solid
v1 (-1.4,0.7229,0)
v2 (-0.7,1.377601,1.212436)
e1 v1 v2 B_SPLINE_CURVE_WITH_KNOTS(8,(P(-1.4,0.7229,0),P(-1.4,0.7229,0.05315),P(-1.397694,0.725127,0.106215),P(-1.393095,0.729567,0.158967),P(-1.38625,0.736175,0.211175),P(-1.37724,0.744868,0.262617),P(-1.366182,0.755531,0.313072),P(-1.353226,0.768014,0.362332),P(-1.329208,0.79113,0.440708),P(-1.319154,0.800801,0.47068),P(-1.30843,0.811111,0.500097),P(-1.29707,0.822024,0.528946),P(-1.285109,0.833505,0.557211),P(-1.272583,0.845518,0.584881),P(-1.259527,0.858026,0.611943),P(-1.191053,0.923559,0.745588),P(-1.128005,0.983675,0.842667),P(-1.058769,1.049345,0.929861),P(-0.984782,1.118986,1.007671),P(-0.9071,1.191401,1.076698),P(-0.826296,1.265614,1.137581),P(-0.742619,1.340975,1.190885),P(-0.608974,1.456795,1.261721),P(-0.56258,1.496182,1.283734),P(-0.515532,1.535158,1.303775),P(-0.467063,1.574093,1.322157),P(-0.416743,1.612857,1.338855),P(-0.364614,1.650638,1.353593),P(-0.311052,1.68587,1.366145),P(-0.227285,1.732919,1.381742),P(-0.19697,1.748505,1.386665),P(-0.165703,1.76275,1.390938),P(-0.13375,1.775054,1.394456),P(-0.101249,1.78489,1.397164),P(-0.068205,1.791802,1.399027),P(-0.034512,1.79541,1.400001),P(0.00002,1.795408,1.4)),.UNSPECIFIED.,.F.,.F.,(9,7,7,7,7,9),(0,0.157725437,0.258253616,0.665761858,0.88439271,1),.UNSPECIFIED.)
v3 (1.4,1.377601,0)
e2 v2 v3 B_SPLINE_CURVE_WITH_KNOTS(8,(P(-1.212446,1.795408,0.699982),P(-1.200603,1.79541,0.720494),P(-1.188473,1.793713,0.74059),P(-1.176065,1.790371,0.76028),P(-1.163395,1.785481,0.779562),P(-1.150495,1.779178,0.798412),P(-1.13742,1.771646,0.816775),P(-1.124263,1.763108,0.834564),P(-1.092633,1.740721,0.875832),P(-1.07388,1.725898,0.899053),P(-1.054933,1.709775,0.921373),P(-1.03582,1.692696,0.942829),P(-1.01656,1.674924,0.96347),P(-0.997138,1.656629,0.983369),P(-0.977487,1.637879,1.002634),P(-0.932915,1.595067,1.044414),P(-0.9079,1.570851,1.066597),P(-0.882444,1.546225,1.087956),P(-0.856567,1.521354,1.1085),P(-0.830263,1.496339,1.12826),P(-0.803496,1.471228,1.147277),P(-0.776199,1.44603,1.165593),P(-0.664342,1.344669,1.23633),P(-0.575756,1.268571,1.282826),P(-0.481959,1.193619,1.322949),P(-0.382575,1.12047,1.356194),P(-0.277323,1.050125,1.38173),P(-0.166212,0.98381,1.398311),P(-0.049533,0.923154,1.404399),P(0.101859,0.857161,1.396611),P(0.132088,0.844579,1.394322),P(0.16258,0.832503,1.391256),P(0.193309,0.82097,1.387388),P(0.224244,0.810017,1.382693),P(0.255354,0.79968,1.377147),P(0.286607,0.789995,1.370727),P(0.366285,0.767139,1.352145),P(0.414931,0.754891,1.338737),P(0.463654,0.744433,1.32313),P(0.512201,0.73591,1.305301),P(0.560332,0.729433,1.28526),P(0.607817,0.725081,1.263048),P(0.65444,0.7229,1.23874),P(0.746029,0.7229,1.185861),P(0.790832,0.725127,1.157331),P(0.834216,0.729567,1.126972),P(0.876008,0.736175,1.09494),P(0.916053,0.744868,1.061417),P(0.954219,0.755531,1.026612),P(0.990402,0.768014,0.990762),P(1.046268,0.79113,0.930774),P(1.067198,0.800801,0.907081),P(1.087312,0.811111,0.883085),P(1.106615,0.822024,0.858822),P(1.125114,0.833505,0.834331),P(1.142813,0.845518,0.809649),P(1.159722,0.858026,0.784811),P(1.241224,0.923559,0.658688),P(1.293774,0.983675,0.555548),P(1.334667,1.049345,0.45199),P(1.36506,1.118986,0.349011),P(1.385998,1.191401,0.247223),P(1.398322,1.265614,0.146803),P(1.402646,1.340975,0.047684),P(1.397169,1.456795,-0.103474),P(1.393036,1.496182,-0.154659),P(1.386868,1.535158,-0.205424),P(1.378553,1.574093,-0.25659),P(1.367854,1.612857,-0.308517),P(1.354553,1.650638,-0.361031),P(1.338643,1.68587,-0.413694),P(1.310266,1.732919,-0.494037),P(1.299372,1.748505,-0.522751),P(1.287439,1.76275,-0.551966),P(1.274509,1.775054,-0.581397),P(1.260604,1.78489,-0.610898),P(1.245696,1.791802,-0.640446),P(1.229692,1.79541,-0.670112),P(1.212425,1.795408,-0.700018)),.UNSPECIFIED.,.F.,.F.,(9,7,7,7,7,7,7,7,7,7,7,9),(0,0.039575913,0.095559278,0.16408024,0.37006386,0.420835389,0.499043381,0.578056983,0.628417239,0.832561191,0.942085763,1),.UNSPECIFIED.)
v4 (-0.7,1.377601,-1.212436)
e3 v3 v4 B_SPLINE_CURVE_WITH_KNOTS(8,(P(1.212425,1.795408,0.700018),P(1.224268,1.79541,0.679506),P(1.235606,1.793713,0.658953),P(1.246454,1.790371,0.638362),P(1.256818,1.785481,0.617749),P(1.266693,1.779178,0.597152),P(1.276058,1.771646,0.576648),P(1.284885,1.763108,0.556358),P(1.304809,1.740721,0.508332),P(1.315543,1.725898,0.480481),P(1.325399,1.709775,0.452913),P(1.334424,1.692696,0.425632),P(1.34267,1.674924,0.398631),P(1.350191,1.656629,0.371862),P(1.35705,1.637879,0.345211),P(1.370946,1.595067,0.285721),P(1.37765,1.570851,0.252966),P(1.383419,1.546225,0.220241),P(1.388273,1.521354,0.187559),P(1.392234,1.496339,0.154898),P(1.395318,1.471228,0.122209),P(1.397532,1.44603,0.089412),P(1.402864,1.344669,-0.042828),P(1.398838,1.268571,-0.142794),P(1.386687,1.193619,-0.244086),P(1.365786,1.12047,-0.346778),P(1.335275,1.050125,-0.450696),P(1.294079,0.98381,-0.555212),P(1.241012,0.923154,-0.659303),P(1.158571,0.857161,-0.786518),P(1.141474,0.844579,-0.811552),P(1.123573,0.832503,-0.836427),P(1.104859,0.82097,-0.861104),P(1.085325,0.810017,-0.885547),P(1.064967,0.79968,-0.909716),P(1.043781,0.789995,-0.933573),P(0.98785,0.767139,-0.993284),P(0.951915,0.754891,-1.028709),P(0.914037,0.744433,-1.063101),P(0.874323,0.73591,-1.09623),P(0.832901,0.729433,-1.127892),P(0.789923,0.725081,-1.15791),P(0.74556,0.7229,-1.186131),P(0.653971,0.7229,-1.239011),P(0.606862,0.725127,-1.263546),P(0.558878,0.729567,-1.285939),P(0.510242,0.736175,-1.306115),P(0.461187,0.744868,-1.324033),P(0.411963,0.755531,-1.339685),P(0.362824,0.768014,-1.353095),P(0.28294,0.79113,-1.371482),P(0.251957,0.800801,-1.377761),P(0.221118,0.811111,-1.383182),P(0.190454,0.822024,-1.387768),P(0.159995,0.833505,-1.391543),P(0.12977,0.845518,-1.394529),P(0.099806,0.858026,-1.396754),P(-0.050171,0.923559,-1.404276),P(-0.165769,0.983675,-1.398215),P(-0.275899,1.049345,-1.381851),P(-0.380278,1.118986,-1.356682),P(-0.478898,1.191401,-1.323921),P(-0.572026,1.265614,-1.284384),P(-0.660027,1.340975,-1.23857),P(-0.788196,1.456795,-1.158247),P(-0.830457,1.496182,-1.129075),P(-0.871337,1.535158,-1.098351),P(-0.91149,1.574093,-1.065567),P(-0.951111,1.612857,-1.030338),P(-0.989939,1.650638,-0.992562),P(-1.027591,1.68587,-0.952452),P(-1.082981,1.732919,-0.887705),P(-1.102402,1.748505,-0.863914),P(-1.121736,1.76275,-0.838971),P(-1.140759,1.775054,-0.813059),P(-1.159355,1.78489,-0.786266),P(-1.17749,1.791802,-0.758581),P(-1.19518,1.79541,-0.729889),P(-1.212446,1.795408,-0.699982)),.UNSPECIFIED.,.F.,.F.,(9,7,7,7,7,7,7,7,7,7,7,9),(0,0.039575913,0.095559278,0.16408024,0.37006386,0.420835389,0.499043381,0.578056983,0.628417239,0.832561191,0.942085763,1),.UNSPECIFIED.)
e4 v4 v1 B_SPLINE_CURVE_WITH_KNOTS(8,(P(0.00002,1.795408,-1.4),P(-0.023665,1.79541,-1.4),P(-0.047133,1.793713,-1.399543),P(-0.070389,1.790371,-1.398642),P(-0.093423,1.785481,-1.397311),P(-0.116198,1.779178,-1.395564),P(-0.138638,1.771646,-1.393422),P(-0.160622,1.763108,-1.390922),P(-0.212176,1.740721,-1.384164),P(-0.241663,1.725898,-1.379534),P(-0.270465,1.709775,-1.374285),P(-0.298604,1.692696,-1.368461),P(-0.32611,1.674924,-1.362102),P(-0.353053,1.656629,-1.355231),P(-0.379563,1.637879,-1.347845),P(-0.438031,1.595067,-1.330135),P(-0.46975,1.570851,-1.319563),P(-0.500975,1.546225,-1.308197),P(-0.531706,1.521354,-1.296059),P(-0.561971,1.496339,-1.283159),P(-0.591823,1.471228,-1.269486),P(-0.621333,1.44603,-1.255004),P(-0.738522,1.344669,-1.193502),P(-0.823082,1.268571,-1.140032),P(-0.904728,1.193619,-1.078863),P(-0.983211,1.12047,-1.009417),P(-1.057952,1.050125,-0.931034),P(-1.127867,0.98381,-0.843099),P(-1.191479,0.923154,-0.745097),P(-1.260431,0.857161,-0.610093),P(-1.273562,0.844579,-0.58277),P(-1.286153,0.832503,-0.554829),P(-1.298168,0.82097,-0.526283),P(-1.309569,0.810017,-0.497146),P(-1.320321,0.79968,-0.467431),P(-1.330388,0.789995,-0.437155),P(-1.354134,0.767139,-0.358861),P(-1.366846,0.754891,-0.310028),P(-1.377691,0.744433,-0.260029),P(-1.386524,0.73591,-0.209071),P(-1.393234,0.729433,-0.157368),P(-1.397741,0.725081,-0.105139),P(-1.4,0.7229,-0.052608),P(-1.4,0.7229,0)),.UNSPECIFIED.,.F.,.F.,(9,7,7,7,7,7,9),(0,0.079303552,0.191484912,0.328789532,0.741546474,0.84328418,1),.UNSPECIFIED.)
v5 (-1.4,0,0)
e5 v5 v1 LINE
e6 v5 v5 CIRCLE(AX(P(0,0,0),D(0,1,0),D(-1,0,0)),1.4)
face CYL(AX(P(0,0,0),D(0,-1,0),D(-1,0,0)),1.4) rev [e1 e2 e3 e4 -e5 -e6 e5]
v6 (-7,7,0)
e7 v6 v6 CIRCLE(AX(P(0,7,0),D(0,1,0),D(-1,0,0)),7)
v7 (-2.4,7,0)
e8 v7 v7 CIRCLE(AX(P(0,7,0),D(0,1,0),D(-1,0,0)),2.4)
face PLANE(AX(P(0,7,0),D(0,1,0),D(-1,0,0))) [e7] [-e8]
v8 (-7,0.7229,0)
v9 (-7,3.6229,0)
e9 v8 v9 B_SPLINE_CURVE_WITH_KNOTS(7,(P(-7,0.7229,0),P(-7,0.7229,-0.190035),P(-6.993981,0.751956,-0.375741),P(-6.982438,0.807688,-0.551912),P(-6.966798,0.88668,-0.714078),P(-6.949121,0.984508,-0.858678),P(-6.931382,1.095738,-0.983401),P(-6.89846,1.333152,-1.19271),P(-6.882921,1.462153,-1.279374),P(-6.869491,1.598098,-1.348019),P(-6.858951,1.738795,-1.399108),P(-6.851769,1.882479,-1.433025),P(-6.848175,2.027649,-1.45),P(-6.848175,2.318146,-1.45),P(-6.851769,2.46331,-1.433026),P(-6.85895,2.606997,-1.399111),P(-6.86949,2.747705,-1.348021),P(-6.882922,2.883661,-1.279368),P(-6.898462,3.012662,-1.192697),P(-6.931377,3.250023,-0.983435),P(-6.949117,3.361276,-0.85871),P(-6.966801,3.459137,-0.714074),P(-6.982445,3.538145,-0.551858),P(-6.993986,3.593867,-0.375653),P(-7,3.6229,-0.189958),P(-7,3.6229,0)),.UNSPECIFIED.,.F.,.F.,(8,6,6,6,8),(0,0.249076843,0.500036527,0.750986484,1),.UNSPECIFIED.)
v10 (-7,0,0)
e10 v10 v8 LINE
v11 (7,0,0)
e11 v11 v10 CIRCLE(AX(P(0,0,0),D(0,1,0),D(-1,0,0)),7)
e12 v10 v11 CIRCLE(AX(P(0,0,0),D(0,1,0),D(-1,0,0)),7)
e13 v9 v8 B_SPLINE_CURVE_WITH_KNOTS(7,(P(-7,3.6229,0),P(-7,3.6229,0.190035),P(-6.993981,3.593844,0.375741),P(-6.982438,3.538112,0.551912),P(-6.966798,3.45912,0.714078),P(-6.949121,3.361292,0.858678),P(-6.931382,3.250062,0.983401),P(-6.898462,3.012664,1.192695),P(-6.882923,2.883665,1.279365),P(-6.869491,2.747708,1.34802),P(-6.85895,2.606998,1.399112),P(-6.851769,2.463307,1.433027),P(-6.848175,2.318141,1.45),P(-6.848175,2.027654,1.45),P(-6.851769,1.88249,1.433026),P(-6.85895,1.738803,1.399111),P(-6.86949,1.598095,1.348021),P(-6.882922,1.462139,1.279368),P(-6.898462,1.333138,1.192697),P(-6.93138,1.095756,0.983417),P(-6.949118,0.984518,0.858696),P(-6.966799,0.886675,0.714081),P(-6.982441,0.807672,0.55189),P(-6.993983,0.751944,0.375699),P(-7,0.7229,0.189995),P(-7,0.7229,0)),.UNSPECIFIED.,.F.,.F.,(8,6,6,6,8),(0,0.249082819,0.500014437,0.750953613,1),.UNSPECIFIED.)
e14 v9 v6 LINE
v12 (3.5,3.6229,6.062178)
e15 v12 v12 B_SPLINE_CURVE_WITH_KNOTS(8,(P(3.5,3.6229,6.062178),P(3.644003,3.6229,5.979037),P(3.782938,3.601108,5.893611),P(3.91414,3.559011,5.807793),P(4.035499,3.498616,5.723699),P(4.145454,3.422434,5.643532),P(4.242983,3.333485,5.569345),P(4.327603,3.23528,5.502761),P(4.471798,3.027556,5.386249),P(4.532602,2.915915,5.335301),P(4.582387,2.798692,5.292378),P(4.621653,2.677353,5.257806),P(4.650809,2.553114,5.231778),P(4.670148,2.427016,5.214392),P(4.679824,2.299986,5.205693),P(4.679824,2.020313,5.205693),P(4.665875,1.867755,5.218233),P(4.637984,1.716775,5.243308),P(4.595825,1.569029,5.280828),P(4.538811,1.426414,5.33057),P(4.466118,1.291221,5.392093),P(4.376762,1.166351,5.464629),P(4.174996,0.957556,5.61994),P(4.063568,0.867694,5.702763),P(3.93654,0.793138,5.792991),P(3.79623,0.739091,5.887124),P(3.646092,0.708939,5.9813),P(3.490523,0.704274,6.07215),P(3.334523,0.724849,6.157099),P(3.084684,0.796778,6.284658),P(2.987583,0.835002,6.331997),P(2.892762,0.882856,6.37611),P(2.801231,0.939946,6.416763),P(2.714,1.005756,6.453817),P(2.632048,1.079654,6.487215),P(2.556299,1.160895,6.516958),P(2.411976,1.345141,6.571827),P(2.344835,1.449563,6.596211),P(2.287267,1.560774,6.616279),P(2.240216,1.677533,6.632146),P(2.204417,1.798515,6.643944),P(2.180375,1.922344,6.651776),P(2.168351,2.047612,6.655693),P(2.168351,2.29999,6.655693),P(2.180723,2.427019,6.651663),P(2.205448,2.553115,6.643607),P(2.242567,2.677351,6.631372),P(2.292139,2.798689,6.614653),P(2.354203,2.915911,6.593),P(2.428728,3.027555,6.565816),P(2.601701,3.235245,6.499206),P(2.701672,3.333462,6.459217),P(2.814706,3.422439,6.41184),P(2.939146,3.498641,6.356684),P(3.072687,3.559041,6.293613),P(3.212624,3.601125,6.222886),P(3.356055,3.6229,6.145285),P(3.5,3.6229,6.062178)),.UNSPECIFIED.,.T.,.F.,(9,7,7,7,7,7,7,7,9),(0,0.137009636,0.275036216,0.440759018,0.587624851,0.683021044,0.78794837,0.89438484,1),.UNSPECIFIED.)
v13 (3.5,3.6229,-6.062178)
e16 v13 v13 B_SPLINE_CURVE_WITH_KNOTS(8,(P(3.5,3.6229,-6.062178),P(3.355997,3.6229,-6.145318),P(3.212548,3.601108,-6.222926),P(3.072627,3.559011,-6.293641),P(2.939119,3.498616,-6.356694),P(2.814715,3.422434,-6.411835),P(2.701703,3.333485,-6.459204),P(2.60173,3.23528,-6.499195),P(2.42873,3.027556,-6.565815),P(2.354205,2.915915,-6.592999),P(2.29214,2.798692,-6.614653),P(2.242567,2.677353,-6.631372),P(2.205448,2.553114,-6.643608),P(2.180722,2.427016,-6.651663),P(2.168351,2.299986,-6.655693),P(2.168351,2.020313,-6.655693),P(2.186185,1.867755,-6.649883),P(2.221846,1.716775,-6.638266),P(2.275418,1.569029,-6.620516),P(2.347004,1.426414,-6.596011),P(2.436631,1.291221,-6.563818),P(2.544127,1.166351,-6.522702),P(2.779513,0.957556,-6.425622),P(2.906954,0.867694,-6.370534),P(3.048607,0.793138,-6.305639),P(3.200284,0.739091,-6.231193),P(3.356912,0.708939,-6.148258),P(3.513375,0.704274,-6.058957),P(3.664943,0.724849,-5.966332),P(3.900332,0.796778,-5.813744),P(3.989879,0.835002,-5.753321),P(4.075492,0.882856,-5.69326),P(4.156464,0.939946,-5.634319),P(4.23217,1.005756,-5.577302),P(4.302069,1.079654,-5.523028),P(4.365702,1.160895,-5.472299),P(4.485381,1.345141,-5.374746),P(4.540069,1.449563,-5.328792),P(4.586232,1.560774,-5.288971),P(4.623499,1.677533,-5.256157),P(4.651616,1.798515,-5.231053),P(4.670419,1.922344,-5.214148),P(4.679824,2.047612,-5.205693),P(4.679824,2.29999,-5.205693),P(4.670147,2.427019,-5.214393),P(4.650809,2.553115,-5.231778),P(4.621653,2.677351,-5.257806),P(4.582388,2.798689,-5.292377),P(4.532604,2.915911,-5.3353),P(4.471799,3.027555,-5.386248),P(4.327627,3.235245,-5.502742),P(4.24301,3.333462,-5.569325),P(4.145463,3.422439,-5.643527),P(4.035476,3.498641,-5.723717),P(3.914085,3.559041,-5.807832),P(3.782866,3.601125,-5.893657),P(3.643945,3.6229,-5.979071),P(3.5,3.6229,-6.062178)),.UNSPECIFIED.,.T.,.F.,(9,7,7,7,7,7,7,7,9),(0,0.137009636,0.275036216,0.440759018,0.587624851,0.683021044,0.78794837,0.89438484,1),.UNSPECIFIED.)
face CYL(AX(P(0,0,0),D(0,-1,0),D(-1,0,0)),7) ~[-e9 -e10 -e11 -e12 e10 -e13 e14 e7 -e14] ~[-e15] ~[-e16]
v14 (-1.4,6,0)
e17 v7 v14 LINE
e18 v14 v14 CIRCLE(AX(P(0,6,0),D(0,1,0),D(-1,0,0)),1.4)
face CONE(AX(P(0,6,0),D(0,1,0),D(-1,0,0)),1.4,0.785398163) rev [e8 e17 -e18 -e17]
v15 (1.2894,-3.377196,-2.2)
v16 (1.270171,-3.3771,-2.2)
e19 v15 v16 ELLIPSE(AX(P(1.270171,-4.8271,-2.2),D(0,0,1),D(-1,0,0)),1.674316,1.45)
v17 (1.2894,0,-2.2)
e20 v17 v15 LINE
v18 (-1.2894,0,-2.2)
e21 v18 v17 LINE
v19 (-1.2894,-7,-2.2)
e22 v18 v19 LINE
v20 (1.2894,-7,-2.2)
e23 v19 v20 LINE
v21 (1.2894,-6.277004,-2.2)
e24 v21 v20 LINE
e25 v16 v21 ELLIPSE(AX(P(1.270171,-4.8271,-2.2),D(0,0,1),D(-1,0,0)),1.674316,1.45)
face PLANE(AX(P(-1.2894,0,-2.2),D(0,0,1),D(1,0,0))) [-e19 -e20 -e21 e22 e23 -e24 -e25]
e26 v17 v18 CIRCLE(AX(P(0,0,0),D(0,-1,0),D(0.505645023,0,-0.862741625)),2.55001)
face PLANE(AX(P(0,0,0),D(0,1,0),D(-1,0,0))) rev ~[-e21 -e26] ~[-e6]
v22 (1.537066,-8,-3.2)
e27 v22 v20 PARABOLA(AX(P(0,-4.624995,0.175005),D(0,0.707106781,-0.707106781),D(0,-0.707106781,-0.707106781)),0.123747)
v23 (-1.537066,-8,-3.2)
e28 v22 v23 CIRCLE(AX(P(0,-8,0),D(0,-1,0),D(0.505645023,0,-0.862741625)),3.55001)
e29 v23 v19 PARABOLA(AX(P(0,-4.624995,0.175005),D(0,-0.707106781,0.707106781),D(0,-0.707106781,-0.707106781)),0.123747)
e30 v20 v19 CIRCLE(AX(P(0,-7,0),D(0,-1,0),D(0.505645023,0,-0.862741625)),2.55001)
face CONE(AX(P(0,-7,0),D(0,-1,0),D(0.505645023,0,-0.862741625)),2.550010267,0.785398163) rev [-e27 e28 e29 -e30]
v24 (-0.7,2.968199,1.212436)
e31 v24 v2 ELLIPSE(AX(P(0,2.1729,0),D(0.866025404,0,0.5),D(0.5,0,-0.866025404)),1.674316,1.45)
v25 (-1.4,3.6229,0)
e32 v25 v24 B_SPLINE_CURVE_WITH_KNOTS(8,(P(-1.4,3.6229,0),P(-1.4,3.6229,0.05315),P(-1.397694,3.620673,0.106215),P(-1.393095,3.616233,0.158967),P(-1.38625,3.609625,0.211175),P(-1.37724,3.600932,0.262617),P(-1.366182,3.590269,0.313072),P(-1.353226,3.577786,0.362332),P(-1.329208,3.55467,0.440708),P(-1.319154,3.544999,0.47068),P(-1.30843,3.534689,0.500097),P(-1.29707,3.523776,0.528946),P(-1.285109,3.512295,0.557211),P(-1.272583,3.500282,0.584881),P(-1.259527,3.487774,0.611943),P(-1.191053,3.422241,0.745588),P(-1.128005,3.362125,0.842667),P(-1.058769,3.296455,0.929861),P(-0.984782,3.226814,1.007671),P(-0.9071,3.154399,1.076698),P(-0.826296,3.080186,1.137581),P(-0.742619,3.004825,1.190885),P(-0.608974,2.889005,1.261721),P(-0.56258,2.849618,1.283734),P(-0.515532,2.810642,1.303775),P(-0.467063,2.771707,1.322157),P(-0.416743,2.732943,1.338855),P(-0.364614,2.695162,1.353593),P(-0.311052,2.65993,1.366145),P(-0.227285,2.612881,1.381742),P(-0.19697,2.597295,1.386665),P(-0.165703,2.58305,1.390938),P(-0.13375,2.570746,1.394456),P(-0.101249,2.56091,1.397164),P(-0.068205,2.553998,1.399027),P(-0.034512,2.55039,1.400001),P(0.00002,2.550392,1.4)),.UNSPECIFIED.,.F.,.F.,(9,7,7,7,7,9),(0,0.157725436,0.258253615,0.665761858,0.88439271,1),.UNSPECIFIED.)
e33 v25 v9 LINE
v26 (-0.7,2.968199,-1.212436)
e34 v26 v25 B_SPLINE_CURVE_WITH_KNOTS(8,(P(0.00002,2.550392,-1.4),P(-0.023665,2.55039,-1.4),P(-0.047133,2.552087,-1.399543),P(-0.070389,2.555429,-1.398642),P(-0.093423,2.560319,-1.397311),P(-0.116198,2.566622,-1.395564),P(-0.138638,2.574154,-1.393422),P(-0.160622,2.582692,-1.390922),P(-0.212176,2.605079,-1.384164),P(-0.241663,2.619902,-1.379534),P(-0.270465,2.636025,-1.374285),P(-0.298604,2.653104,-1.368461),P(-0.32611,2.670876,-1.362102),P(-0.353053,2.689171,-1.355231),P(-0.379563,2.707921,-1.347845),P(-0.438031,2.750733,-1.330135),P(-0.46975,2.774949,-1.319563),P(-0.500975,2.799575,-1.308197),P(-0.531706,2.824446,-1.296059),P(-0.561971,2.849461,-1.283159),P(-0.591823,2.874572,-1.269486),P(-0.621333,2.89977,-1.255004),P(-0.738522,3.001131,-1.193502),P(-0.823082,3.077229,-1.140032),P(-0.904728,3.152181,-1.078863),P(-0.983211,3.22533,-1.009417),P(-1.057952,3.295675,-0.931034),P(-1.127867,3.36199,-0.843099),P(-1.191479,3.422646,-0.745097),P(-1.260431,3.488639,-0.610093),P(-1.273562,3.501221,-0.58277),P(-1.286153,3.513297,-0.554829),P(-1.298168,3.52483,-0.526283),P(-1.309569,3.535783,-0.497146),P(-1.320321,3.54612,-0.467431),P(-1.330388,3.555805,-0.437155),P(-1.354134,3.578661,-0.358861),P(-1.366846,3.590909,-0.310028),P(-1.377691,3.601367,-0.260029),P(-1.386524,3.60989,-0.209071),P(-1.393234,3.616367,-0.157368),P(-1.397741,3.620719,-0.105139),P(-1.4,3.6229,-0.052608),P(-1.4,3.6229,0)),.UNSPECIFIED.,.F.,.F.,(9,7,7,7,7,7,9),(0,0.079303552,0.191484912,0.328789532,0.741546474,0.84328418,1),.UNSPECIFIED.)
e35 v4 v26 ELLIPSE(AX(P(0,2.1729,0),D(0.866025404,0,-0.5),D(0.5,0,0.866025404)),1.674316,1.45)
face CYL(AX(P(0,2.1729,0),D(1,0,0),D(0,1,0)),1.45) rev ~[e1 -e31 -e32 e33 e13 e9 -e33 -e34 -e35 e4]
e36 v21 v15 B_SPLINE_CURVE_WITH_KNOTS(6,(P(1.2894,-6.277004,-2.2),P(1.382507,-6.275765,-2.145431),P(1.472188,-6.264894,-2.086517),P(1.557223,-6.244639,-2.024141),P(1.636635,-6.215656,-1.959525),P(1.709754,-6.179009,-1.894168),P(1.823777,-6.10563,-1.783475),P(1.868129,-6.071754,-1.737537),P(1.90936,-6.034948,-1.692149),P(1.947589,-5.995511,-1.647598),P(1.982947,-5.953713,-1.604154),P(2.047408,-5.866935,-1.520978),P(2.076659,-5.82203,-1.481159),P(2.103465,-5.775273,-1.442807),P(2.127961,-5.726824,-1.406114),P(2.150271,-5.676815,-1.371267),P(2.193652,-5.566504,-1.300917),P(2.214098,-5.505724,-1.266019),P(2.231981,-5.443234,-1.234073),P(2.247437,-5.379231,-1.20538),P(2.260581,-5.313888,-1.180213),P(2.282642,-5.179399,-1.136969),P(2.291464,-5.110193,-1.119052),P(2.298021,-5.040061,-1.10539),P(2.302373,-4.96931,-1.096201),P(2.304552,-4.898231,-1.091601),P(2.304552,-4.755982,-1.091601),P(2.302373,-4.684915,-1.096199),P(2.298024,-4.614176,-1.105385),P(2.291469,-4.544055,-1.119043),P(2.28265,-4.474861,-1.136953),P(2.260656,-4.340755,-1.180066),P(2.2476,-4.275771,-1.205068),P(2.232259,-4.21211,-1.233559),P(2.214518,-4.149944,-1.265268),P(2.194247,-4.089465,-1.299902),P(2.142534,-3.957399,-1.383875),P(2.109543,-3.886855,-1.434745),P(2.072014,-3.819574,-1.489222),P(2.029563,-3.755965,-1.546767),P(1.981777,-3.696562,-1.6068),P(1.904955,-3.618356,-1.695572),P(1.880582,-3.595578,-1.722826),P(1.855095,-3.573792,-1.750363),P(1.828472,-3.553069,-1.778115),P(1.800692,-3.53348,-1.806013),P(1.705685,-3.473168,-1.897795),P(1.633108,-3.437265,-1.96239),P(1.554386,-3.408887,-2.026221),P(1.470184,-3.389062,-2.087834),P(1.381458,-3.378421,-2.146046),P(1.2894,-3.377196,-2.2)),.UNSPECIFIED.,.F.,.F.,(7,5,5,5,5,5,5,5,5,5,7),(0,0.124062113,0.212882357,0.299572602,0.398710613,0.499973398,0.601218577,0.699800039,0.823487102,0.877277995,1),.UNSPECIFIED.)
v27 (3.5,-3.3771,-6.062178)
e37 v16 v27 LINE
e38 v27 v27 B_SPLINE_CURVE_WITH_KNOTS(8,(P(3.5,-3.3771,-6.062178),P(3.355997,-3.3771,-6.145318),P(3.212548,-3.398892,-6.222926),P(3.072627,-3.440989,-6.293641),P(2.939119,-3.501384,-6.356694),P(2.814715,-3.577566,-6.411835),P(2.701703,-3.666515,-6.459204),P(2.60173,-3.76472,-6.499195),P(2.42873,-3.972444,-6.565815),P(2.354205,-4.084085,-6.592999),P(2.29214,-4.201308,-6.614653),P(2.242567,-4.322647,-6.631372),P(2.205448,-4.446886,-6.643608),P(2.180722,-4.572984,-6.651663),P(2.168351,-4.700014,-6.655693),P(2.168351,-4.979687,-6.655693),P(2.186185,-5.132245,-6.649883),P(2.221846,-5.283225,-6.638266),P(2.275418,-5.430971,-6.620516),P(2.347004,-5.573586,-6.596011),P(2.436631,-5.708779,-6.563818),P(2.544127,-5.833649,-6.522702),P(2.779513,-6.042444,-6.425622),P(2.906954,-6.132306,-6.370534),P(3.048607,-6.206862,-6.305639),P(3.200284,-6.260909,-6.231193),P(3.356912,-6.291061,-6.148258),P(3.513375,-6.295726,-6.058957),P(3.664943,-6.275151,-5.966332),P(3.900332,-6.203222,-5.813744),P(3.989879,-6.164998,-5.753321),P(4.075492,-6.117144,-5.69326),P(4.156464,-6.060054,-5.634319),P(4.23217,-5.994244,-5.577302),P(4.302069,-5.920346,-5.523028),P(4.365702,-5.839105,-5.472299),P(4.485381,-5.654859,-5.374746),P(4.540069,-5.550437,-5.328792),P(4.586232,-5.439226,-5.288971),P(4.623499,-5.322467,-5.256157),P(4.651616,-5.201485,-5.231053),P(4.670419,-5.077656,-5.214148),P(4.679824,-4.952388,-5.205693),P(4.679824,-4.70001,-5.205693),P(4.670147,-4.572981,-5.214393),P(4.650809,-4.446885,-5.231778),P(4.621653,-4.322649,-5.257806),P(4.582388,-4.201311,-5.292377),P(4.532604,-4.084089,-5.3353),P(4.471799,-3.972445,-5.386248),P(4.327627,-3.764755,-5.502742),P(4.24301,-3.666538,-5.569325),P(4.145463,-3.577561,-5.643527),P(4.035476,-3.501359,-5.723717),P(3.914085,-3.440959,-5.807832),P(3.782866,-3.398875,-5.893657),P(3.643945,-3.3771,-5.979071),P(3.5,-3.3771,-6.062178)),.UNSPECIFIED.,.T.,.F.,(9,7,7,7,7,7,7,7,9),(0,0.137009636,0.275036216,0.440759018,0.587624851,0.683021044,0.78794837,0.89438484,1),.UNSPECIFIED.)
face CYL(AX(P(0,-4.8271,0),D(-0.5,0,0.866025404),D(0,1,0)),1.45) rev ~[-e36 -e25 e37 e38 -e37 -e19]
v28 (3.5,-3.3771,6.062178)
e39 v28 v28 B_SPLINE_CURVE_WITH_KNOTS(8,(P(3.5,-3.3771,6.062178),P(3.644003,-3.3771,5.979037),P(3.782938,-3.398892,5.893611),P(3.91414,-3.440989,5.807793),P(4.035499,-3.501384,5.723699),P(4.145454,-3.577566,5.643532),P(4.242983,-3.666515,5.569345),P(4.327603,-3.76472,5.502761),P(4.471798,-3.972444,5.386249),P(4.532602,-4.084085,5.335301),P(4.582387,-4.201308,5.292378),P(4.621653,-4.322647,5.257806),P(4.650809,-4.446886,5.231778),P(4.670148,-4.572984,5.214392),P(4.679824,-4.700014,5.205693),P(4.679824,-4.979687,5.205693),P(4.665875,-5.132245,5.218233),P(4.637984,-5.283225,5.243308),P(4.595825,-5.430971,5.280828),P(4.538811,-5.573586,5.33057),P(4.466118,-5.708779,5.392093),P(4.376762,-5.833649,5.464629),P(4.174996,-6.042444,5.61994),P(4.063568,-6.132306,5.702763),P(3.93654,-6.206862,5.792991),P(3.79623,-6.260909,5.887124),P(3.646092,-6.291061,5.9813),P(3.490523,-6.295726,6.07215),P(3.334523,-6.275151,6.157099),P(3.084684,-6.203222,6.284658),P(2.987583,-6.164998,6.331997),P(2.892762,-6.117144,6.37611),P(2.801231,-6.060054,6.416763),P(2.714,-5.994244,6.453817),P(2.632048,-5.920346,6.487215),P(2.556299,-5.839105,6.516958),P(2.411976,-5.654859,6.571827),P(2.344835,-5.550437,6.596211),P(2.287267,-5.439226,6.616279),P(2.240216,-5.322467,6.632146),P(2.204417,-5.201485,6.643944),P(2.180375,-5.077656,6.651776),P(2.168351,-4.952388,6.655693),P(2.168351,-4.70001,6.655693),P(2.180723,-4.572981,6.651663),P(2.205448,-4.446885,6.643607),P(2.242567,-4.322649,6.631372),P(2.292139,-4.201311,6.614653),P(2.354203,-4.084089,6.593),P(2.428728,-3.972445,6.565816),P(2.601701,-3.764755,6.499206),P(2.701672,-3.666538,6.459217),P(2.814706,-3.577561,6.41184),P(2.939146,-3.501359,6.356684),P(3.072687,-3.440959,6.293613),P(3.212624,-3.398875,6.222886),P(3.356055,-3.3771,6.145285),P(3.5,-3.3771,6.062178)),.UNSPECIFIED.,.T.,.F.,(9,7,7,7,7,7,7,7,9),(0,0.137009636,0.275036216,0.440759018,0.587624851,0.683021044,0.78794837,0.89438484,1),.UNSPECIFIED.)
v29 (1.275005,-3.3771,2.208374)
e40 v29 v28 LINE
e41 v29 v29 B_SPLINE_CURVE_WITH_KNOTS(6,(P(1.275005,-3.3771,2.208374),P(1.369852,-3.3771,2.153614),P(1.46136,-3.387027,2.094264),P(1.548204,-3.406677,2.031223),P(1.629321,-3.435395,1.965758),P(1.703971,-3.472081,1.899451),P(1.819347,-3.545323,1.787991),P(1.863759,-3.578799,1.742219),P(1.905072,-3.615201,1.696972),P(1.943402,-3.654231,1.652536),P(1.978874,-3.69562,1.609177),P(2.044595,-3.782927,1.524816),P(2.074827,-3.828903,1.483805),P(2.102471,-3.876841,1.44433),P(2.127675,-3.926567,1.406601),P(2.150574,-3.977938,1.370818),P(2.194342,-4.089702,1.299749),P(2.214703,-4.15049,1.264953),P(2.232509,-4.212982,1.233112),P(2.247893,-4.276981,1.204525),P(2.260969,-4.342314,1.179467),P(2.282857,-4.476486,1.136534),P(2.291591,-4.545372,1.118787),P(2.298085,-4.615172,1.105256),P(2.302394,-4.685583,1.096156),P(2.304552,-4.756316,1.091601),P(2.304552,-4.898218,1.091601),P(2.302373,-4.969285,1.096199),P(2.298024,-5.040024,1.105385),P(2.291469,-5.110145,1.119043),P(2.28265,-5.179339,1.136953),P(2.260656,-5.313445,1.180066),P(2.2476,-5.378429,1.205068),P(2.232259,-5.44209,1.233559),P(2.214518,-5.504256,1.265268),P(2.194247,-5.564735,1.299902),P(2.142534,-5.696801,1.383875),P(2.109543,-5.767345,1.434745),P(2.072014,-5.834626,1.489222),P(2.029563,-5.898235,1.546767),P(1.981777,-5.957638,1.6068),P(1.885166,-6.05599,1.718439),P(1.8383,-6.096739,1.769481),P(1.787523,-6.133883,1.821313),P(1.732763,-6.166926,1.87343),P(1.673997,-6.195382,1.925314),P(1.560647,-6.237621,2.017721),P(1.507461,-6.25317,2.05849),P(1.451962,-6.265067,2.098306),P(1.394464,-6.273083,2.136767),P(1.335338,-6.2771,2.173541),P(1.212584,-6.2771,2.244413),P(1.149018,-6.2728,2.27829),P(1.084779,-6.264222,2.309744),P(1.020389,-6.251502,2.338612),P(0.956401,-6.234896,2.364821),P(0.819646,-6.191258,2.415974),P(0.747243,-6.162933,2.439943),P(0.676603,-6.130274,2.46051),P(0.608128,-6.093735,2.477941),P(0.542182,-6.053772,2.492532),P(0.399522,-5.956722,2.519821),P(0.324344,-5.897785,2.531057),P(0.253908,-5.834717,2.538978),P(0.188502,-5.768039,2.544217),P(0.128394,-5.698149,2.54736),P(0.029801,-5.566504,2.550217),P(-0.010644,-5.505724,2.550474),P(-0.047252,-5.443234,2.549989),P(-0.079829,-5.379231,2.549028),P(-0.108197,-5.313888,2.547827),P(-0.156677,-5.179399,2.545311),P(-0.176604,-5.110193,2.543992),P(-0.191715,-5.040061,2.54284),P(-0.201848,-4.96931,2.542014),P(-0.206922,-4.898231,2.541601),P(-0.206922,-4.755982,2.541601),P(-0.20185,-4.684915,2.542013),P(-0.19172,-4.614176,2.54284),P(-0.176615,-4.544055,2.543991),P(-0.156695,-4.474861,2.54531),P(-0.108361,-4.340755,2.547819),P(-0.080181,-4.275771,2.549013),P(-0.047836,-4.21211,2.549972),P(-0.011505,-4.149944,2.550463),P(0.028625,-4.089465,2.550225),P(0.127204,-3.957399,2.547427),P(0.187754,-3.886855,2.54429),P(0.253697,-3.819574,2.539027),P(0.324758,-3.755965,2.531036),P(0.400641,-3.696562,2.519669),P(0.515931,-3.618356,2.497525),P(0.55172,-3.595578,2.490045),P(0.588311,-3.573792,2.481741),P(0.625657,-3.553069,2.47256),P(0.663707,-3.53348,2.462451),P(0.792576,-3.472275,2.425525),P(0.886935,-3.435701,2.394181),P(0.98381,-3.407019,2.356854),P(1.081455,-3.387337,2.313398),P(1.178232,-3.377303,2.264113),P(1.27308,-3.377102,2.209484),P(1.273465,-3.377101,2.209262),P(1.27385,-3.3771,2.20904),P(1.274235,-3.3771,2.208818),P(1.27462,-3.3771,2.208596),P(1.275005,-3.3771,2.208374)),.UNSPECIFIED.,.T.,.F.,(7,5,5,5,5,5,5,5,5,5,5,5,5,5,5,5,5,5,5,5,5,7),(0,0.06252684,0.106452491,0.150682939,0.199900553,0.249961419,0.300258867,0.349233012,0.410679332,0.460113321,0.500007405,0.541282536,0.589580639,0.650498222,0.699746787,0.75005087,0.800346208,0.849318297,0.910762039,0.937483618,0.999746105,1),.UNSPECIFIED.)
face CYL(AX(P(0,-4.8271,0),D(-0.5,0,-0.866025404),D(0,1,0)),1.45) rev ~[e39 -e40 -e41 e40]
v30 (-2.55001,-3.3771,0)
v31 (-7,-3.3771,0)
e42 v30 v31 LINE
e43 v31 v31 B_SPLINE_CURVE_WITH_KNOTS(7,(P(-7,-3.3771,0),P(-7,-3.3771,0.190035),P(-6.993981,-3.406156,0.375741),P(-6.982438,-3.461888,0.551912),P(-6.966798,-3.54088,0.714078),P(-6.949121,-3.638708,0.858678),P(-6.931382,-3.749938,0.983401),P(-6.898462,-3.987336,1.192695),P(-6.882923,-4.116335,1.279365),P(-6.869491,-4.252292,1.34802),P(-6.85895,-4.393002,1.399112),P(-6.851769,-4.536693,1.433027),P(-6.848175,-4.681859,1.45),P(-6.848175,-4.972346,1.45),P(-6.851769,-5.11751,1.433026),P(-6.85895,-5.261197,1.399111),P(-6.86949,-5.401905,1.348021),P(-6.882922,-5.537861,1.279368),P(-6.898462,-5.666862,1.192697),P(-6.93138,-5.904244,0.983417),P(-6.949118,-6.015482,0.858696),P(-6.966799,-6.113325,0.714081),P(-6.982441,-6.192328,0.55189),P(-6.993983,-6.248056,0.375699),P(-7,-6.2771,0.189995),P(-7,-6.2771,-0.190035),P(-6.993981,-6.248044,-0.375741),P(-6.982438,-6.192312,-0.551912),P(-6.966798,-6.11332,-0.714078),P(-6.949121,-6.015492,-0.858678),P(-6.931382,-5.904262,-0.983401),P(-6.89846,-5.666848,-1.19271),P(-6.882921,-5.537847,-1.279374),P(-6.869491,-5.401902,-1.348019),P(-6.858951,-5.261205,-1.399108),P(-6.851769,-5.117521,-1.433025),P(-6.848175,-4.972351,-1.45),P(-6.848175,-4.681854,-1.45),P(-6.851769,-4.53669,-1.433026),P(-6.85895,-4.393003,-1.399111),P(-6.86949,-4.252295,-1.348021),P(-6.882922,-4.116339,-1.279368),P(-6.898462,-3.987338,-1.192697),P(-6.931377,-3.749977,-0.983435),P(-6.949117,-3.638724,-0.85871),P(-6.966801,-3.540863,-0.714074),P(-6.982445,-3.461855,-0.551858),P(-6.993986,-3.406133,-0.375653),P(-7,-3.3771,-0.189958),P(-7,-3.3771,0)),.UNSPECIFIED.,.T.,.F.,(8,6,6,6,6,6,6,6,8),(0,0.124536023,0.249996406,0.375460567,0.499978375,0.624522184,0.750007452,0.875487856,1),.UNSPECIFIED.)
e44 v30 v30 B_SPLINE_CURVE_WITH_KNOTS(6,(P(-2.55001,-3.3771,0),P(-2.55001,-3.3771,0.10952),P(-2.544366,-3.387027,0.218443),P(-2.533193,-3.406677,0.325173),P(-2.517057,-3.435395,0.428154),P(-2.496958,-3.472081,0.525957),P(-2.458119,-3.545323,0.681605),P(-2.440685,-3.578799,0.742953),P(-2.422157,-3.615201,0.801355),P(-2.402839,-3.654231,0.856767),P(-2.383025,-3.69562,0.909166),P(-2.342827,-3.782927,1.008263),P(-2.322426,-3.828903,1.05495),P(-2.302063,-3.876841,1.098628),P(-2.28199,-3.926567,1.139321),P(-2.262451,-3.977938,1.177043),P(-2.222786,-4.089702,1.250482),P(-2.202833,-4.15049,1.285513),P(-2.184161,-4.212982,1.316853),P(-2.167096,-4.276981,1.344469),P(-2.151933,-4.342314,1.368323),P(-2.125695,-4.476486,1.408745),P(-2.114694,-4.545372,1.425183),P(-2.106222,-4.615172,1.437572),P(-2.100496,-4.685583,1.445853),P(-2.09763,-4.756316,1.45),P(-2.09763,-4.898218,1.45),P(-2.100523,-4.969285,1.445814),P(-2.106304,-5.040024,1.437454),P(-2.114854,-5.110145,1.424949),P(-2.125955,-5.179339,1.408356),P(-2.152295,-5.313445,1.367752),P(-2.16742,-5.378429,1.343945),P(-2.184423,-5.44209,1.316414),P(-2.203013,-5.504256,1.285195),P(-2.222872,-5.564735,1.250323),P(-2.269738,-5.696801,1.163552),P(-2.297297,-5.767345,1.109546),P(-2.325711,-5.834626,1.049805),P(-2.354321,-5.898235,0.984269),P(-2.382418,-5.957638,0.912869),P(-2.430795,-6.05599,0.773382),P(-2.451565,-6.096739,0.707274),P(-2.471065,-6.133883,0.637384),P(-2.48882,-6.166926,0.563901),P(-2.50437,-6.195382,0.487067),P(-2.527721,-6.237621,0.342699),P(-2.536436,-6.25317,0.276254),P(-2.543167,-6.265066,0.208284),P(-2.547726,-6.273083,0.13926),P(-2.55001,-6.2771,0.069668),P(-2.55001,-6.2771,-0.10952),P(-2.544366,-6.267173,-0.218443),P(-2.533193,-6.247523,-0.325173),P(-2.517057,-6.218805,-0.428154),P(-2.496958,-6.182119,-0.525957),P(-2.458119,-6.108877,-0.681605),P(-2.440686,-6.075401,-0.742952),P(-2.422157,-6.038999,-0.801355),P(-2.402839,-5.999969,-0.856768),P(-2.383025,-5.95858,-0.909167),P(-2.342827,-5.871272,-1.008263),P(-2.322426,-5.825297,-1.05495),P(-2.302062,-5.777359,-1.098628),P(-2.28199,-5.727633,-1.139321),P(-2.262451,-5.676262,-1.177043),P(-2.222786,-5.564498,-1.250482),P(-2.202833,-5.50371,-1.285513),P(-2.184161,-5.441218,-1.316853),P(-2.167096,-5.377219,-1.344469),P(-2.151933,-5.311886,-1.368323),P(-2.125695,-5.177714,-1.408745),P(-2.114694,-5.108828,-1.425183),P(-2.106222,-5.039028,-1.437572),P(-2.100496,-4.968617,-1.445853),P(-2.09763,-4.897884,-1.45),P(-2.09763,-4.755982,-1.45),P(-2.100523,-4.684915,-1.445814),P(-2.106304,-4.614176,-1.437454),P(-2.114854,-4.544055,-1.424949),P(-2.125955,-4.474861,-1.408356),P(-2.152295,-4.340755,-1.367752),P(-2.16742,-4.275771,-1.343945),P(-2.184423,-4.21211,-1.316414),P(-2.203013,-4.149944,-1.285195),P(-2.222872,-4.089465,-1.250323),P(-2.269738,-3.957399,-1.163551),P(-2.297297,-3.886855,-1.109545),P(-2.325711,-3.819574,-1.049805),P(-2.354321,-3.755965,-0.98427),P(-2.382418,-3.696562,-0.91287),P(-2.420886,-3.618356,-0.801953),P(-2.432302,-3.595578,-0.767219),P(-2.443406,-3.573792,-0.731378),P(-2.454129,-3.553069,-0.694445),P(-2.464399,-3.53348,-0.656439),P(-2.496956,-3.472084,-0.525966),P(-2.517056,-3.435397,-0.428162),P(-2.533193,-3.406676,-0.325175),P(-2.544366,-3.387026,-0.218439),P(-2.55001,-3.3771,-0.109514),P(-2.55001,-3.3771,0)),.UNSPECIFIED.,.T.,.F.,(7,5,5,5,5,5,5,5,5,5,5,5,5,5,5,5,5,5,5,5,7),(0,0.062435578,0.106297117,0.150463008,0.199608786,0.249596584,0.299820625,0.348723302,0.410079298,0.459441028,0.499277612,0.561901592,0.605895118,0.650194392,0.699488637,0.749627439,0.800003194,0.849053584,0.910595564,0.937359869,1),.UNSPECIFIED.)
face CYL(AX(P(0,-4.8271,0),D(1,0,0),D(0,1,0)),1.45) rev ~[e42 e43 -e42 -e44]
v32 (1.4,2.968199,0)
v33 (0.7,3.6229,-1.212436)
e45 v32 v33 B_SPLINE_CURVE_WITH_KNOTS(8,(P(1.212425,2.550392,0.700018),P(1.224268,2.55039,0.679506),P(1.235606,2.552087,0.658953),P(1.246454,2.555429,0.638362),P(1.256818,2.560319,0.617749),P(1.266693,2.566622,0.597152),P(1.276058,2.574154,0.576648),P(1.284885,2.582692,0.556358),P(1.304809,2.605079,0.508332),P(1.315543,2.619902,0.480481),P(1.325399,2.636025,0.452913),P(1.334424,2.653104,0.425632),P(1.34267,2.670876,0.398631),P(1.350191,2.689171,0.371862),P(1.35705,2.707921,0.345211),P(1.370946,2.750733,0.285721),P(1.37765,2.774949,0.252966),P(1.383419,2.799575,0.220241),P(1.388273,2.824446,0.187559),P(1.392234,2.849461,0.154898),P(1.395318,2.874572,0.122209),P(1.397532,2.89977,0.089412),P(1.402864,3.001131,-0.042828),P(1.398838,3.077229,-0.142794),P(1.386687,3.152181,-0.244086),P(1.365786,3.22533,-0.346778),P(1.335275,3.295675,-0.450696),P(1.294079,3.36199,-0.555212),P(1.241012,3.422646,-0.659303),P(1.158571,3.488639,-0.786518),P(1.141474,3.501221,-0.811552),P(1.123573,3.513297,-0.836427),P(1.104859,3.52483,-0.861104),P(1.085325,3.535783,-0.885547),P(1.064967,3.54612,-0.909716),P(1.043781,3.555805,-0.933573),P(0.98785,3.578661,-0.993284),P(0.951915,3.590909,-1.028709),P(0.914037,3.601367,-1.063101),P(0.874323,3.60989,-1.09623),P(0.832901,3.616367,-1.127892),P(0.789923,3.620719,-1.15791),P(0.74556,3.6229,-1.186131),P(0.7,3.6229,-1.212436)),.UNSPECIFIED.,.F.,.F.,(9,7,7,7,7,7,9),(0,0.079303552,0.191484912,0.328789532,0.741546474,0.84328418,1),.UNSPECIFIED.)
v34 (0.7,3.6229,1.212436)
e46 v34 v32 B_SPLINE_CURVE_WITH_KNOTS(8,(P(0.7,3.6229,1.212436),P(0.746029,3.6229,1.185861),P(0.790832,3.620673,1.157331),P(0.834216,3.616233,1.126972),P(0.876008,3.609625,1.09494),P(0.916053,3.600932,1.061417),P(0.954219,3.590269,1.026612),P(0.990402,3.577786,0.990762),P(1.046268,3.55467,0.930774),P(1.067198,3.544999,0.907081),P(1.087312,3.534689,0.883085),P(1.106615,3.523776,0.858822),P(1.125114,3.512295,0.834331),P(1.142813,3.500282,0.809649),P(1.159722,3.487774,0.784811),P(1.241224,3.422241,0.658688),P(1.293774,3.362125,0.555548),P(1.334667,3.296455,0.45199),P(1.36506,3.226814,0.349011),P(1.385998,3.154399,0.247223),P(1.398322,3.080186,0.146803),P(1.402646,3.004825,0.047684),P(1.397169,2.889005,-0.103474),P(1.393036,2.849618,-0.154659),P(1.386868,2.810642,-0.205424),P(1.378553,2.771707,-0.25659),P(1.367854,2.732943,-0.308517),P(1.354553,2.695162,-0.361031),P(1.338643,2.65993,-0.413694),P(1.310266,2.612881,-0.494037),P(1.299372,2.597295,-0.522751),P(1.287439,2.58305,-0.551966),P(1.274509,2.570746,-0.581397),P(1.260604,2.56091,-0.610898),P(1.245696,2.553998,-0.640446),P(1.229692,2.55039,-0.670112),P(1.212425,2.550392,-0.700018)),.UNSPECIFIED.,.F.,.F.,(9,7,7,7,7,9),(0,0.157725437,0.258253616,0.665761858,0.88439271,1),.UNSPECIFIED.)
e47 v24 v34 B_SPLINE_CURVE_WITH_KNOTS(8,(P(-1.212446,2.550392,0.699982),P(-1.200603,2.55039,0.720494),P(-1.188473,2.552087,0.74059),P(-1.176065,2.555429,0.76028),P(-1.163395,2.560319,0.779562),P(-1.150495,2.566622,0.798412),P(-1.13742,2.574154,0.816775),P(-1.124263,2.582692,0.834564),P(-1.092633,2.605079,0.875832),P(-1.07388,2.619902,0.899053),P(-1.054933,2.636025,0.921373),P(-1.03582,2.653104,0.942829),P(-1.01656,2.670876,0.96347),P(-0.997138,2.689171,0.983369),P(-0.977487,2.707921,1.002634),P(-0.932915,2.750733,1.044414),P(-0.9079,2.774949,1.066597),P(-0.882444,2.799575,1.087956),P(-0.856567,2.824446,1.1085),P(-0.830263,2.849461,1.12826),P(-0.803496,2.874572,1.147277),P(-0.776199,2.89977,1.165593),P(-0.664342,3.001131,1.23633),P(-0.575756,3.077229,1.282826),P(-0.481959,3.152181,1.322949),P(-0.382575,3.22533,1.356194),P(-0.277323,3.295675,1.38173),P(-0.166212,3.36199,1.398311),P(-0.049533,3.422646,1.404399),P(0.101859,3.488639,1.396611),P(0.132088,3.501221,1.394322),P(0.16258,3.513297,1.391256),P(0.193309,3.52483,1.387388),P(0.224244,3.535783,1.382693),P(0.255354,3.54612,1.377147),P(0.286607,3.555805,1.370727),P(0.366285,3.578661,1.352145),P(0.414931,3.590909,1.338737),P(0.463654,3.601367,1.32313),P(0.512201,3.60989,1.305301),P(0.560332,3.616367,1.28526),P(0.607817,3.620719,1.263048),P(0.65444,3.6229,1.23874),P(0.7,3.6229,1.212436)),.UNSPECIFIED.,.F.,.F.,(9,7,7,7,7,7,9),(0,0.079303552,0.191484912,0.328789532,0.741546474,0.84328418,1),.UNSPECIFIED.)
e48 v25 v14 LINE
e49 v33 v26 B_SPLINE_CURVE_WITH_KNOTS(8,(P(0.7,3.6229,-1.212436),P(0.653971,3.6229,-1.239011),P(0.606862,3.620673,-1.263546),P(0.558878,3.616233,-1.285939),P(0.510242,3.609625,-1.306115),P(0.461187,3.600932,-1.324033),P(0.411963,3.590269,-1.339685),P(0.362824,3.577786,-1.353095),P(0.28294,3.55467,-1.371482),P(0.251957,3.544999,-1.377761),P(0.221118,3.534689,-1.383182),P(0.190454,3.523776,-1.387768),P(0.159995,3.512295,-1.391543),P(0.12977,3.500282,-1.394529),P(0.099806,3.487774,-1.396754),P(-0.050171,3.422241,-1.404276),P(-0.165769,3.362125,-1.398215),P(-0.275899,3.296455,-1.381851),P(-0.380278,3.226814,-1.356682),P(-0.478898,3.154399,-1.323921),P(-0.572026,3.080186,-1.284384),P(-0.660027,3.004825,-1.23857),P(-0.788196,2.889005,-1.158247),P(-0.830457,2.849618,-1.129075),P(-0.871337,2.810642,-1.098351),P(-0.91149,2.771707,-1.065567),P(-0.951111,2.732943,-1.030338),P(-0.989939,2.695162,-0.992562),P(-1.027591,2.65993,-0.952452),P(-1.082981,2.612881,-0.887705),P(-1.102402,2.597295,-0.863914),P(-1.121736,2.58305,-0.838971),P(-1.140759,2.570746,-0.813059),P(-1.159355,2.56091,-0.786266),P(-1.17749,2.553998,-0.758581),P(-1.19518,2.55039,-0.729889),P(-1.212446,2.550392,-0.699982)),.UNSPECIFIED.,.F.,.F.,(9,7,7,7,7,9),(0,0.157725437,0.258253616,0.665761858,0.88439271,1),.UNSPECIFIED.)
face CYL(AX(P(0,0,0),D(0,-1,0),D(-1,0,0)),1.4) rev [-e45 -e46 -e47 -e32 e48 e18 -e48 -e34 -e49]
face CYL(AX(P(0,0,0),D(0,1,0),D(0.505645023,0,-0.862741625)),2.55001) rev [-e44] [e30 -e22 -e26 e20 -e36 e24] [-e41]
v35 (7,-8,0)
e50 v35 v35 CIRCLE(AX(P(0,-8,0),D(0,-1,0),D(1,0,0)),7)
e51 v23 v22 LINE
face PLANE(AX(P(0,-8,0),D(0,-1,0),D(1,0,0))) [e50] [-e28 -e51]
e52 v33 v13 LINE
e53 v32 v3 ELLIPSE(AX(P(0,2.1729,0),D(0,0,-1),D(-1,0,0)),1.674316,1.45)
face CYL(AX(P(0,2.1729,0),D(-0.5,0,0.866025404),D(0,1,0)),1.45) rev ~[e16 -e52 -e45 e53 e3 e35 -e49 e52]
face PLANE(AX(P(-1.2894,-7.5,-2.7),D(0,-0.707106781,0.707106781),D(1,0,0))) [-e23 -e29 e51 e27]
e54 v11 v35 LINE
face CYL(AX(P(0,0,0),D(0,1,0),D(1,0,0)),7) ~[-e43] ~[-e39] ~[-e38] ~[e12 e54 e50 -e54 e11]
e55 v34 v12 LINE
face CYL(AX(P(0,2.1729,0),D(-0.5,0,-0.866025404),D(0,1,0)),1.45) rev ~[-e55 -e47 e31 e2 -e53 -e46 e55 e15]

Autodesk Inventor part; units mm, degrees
ref_plane "YZ Plane" through (0, 0, 0) normal (1, 0, 0) x (0, 1, 0)
ref_plane "XZ Plane" through (0, 0, 0) normal (0, 1, 0) x (-1, 0, 0)
ref_plane "XY Plane" through (0, 0, 0) normal (0, 0, 1) x (1, 0, 0)
sketch "Sketch1" plane through (0, 0, 0) normal (0, 1, 0) x (-1, 0, 0)
  circle A0 centre (0, 0) radius 7
  line L0 (0, -9.8) -> (0, 9.8) construction
  circle A1 centre (0, 0) radius 1.4
  dimension "d0" = 14
  dimension "d42" = 2.8
extrude "Extrusion1" add sketch "Sketch1" along normal blind 7
sketch "Sketch2" plane through (0, 0, 0) normal (0, -1, 0) x (1, 0, 0)
  circle A0 centre (0, 0) radius 1.45 projected
  arc A1 (1.2894, -2.2) -> (-1.2894, -2.2) centre (0, 0) ccw
  line L0 (-1.2894, -2.2) -> (1.2894, -2.2)
  circle A2 centre (0, 0) radius 7 projected
  dimension "d4" = 5.1
  dimension "d5" = 2.2
extrude "Extrusion2" add sketch "Sketch2" along normal blind 8 contours A2
ref_plane "Work Plane1" through (0, 6, 0) normal (0, -1, 0) x (1, 0, 0)
sketch "Sketch5" plane through (0, 0, 0) normal (1, 0, 0) x (0, 1, 0)
  line L0 (0, 7) -> (7, 7) projected
  line L1 (4.6942, 7) -> (5.9942, 7)
  line L2 (5.9942, 7) -> (5.9942, 5)
  line L3 (5.9942, 5) -> (4.6942, 5)
  line L4 (4.6942, 5) -> (4.6942, 7)
  point P0 (0, 0)
  dimension "d17" = 1.3
  dimension "d18" = 2
sketch "Sketch6" plane through (0, 0, 0) normal (1, 0, 0) x (0, 1, 0)
  circle A0 centre (2.1729, 0) radius 1.45
  line L0 (-8, -7) -> (7, -7) projected
  point P0 (0, 0)
  dimension "d43" = 2.9
  dimension "d44" = 7
extrude "Extrusion5" cut sketch "Sketch6" against normal blind 10
pattern_circular "Circular Pattern3" count 3 over 360 about axis through (0, 0, 0) along (0, 1, 0) of "Extrusion5"
chamfer "Chamfer4" distance 1 angle 45 3 edges at (1.4, 7, 0) (0, -8, 2.55) (0, -8, -2.2)
pattern_linear "Rectangular Pattern2" count 2 spacing 7 along (0, -1, 0) of "Extrusion5", "Circular Pattern3"
properties part number "00_Motorcoupling_5mm_M3"
